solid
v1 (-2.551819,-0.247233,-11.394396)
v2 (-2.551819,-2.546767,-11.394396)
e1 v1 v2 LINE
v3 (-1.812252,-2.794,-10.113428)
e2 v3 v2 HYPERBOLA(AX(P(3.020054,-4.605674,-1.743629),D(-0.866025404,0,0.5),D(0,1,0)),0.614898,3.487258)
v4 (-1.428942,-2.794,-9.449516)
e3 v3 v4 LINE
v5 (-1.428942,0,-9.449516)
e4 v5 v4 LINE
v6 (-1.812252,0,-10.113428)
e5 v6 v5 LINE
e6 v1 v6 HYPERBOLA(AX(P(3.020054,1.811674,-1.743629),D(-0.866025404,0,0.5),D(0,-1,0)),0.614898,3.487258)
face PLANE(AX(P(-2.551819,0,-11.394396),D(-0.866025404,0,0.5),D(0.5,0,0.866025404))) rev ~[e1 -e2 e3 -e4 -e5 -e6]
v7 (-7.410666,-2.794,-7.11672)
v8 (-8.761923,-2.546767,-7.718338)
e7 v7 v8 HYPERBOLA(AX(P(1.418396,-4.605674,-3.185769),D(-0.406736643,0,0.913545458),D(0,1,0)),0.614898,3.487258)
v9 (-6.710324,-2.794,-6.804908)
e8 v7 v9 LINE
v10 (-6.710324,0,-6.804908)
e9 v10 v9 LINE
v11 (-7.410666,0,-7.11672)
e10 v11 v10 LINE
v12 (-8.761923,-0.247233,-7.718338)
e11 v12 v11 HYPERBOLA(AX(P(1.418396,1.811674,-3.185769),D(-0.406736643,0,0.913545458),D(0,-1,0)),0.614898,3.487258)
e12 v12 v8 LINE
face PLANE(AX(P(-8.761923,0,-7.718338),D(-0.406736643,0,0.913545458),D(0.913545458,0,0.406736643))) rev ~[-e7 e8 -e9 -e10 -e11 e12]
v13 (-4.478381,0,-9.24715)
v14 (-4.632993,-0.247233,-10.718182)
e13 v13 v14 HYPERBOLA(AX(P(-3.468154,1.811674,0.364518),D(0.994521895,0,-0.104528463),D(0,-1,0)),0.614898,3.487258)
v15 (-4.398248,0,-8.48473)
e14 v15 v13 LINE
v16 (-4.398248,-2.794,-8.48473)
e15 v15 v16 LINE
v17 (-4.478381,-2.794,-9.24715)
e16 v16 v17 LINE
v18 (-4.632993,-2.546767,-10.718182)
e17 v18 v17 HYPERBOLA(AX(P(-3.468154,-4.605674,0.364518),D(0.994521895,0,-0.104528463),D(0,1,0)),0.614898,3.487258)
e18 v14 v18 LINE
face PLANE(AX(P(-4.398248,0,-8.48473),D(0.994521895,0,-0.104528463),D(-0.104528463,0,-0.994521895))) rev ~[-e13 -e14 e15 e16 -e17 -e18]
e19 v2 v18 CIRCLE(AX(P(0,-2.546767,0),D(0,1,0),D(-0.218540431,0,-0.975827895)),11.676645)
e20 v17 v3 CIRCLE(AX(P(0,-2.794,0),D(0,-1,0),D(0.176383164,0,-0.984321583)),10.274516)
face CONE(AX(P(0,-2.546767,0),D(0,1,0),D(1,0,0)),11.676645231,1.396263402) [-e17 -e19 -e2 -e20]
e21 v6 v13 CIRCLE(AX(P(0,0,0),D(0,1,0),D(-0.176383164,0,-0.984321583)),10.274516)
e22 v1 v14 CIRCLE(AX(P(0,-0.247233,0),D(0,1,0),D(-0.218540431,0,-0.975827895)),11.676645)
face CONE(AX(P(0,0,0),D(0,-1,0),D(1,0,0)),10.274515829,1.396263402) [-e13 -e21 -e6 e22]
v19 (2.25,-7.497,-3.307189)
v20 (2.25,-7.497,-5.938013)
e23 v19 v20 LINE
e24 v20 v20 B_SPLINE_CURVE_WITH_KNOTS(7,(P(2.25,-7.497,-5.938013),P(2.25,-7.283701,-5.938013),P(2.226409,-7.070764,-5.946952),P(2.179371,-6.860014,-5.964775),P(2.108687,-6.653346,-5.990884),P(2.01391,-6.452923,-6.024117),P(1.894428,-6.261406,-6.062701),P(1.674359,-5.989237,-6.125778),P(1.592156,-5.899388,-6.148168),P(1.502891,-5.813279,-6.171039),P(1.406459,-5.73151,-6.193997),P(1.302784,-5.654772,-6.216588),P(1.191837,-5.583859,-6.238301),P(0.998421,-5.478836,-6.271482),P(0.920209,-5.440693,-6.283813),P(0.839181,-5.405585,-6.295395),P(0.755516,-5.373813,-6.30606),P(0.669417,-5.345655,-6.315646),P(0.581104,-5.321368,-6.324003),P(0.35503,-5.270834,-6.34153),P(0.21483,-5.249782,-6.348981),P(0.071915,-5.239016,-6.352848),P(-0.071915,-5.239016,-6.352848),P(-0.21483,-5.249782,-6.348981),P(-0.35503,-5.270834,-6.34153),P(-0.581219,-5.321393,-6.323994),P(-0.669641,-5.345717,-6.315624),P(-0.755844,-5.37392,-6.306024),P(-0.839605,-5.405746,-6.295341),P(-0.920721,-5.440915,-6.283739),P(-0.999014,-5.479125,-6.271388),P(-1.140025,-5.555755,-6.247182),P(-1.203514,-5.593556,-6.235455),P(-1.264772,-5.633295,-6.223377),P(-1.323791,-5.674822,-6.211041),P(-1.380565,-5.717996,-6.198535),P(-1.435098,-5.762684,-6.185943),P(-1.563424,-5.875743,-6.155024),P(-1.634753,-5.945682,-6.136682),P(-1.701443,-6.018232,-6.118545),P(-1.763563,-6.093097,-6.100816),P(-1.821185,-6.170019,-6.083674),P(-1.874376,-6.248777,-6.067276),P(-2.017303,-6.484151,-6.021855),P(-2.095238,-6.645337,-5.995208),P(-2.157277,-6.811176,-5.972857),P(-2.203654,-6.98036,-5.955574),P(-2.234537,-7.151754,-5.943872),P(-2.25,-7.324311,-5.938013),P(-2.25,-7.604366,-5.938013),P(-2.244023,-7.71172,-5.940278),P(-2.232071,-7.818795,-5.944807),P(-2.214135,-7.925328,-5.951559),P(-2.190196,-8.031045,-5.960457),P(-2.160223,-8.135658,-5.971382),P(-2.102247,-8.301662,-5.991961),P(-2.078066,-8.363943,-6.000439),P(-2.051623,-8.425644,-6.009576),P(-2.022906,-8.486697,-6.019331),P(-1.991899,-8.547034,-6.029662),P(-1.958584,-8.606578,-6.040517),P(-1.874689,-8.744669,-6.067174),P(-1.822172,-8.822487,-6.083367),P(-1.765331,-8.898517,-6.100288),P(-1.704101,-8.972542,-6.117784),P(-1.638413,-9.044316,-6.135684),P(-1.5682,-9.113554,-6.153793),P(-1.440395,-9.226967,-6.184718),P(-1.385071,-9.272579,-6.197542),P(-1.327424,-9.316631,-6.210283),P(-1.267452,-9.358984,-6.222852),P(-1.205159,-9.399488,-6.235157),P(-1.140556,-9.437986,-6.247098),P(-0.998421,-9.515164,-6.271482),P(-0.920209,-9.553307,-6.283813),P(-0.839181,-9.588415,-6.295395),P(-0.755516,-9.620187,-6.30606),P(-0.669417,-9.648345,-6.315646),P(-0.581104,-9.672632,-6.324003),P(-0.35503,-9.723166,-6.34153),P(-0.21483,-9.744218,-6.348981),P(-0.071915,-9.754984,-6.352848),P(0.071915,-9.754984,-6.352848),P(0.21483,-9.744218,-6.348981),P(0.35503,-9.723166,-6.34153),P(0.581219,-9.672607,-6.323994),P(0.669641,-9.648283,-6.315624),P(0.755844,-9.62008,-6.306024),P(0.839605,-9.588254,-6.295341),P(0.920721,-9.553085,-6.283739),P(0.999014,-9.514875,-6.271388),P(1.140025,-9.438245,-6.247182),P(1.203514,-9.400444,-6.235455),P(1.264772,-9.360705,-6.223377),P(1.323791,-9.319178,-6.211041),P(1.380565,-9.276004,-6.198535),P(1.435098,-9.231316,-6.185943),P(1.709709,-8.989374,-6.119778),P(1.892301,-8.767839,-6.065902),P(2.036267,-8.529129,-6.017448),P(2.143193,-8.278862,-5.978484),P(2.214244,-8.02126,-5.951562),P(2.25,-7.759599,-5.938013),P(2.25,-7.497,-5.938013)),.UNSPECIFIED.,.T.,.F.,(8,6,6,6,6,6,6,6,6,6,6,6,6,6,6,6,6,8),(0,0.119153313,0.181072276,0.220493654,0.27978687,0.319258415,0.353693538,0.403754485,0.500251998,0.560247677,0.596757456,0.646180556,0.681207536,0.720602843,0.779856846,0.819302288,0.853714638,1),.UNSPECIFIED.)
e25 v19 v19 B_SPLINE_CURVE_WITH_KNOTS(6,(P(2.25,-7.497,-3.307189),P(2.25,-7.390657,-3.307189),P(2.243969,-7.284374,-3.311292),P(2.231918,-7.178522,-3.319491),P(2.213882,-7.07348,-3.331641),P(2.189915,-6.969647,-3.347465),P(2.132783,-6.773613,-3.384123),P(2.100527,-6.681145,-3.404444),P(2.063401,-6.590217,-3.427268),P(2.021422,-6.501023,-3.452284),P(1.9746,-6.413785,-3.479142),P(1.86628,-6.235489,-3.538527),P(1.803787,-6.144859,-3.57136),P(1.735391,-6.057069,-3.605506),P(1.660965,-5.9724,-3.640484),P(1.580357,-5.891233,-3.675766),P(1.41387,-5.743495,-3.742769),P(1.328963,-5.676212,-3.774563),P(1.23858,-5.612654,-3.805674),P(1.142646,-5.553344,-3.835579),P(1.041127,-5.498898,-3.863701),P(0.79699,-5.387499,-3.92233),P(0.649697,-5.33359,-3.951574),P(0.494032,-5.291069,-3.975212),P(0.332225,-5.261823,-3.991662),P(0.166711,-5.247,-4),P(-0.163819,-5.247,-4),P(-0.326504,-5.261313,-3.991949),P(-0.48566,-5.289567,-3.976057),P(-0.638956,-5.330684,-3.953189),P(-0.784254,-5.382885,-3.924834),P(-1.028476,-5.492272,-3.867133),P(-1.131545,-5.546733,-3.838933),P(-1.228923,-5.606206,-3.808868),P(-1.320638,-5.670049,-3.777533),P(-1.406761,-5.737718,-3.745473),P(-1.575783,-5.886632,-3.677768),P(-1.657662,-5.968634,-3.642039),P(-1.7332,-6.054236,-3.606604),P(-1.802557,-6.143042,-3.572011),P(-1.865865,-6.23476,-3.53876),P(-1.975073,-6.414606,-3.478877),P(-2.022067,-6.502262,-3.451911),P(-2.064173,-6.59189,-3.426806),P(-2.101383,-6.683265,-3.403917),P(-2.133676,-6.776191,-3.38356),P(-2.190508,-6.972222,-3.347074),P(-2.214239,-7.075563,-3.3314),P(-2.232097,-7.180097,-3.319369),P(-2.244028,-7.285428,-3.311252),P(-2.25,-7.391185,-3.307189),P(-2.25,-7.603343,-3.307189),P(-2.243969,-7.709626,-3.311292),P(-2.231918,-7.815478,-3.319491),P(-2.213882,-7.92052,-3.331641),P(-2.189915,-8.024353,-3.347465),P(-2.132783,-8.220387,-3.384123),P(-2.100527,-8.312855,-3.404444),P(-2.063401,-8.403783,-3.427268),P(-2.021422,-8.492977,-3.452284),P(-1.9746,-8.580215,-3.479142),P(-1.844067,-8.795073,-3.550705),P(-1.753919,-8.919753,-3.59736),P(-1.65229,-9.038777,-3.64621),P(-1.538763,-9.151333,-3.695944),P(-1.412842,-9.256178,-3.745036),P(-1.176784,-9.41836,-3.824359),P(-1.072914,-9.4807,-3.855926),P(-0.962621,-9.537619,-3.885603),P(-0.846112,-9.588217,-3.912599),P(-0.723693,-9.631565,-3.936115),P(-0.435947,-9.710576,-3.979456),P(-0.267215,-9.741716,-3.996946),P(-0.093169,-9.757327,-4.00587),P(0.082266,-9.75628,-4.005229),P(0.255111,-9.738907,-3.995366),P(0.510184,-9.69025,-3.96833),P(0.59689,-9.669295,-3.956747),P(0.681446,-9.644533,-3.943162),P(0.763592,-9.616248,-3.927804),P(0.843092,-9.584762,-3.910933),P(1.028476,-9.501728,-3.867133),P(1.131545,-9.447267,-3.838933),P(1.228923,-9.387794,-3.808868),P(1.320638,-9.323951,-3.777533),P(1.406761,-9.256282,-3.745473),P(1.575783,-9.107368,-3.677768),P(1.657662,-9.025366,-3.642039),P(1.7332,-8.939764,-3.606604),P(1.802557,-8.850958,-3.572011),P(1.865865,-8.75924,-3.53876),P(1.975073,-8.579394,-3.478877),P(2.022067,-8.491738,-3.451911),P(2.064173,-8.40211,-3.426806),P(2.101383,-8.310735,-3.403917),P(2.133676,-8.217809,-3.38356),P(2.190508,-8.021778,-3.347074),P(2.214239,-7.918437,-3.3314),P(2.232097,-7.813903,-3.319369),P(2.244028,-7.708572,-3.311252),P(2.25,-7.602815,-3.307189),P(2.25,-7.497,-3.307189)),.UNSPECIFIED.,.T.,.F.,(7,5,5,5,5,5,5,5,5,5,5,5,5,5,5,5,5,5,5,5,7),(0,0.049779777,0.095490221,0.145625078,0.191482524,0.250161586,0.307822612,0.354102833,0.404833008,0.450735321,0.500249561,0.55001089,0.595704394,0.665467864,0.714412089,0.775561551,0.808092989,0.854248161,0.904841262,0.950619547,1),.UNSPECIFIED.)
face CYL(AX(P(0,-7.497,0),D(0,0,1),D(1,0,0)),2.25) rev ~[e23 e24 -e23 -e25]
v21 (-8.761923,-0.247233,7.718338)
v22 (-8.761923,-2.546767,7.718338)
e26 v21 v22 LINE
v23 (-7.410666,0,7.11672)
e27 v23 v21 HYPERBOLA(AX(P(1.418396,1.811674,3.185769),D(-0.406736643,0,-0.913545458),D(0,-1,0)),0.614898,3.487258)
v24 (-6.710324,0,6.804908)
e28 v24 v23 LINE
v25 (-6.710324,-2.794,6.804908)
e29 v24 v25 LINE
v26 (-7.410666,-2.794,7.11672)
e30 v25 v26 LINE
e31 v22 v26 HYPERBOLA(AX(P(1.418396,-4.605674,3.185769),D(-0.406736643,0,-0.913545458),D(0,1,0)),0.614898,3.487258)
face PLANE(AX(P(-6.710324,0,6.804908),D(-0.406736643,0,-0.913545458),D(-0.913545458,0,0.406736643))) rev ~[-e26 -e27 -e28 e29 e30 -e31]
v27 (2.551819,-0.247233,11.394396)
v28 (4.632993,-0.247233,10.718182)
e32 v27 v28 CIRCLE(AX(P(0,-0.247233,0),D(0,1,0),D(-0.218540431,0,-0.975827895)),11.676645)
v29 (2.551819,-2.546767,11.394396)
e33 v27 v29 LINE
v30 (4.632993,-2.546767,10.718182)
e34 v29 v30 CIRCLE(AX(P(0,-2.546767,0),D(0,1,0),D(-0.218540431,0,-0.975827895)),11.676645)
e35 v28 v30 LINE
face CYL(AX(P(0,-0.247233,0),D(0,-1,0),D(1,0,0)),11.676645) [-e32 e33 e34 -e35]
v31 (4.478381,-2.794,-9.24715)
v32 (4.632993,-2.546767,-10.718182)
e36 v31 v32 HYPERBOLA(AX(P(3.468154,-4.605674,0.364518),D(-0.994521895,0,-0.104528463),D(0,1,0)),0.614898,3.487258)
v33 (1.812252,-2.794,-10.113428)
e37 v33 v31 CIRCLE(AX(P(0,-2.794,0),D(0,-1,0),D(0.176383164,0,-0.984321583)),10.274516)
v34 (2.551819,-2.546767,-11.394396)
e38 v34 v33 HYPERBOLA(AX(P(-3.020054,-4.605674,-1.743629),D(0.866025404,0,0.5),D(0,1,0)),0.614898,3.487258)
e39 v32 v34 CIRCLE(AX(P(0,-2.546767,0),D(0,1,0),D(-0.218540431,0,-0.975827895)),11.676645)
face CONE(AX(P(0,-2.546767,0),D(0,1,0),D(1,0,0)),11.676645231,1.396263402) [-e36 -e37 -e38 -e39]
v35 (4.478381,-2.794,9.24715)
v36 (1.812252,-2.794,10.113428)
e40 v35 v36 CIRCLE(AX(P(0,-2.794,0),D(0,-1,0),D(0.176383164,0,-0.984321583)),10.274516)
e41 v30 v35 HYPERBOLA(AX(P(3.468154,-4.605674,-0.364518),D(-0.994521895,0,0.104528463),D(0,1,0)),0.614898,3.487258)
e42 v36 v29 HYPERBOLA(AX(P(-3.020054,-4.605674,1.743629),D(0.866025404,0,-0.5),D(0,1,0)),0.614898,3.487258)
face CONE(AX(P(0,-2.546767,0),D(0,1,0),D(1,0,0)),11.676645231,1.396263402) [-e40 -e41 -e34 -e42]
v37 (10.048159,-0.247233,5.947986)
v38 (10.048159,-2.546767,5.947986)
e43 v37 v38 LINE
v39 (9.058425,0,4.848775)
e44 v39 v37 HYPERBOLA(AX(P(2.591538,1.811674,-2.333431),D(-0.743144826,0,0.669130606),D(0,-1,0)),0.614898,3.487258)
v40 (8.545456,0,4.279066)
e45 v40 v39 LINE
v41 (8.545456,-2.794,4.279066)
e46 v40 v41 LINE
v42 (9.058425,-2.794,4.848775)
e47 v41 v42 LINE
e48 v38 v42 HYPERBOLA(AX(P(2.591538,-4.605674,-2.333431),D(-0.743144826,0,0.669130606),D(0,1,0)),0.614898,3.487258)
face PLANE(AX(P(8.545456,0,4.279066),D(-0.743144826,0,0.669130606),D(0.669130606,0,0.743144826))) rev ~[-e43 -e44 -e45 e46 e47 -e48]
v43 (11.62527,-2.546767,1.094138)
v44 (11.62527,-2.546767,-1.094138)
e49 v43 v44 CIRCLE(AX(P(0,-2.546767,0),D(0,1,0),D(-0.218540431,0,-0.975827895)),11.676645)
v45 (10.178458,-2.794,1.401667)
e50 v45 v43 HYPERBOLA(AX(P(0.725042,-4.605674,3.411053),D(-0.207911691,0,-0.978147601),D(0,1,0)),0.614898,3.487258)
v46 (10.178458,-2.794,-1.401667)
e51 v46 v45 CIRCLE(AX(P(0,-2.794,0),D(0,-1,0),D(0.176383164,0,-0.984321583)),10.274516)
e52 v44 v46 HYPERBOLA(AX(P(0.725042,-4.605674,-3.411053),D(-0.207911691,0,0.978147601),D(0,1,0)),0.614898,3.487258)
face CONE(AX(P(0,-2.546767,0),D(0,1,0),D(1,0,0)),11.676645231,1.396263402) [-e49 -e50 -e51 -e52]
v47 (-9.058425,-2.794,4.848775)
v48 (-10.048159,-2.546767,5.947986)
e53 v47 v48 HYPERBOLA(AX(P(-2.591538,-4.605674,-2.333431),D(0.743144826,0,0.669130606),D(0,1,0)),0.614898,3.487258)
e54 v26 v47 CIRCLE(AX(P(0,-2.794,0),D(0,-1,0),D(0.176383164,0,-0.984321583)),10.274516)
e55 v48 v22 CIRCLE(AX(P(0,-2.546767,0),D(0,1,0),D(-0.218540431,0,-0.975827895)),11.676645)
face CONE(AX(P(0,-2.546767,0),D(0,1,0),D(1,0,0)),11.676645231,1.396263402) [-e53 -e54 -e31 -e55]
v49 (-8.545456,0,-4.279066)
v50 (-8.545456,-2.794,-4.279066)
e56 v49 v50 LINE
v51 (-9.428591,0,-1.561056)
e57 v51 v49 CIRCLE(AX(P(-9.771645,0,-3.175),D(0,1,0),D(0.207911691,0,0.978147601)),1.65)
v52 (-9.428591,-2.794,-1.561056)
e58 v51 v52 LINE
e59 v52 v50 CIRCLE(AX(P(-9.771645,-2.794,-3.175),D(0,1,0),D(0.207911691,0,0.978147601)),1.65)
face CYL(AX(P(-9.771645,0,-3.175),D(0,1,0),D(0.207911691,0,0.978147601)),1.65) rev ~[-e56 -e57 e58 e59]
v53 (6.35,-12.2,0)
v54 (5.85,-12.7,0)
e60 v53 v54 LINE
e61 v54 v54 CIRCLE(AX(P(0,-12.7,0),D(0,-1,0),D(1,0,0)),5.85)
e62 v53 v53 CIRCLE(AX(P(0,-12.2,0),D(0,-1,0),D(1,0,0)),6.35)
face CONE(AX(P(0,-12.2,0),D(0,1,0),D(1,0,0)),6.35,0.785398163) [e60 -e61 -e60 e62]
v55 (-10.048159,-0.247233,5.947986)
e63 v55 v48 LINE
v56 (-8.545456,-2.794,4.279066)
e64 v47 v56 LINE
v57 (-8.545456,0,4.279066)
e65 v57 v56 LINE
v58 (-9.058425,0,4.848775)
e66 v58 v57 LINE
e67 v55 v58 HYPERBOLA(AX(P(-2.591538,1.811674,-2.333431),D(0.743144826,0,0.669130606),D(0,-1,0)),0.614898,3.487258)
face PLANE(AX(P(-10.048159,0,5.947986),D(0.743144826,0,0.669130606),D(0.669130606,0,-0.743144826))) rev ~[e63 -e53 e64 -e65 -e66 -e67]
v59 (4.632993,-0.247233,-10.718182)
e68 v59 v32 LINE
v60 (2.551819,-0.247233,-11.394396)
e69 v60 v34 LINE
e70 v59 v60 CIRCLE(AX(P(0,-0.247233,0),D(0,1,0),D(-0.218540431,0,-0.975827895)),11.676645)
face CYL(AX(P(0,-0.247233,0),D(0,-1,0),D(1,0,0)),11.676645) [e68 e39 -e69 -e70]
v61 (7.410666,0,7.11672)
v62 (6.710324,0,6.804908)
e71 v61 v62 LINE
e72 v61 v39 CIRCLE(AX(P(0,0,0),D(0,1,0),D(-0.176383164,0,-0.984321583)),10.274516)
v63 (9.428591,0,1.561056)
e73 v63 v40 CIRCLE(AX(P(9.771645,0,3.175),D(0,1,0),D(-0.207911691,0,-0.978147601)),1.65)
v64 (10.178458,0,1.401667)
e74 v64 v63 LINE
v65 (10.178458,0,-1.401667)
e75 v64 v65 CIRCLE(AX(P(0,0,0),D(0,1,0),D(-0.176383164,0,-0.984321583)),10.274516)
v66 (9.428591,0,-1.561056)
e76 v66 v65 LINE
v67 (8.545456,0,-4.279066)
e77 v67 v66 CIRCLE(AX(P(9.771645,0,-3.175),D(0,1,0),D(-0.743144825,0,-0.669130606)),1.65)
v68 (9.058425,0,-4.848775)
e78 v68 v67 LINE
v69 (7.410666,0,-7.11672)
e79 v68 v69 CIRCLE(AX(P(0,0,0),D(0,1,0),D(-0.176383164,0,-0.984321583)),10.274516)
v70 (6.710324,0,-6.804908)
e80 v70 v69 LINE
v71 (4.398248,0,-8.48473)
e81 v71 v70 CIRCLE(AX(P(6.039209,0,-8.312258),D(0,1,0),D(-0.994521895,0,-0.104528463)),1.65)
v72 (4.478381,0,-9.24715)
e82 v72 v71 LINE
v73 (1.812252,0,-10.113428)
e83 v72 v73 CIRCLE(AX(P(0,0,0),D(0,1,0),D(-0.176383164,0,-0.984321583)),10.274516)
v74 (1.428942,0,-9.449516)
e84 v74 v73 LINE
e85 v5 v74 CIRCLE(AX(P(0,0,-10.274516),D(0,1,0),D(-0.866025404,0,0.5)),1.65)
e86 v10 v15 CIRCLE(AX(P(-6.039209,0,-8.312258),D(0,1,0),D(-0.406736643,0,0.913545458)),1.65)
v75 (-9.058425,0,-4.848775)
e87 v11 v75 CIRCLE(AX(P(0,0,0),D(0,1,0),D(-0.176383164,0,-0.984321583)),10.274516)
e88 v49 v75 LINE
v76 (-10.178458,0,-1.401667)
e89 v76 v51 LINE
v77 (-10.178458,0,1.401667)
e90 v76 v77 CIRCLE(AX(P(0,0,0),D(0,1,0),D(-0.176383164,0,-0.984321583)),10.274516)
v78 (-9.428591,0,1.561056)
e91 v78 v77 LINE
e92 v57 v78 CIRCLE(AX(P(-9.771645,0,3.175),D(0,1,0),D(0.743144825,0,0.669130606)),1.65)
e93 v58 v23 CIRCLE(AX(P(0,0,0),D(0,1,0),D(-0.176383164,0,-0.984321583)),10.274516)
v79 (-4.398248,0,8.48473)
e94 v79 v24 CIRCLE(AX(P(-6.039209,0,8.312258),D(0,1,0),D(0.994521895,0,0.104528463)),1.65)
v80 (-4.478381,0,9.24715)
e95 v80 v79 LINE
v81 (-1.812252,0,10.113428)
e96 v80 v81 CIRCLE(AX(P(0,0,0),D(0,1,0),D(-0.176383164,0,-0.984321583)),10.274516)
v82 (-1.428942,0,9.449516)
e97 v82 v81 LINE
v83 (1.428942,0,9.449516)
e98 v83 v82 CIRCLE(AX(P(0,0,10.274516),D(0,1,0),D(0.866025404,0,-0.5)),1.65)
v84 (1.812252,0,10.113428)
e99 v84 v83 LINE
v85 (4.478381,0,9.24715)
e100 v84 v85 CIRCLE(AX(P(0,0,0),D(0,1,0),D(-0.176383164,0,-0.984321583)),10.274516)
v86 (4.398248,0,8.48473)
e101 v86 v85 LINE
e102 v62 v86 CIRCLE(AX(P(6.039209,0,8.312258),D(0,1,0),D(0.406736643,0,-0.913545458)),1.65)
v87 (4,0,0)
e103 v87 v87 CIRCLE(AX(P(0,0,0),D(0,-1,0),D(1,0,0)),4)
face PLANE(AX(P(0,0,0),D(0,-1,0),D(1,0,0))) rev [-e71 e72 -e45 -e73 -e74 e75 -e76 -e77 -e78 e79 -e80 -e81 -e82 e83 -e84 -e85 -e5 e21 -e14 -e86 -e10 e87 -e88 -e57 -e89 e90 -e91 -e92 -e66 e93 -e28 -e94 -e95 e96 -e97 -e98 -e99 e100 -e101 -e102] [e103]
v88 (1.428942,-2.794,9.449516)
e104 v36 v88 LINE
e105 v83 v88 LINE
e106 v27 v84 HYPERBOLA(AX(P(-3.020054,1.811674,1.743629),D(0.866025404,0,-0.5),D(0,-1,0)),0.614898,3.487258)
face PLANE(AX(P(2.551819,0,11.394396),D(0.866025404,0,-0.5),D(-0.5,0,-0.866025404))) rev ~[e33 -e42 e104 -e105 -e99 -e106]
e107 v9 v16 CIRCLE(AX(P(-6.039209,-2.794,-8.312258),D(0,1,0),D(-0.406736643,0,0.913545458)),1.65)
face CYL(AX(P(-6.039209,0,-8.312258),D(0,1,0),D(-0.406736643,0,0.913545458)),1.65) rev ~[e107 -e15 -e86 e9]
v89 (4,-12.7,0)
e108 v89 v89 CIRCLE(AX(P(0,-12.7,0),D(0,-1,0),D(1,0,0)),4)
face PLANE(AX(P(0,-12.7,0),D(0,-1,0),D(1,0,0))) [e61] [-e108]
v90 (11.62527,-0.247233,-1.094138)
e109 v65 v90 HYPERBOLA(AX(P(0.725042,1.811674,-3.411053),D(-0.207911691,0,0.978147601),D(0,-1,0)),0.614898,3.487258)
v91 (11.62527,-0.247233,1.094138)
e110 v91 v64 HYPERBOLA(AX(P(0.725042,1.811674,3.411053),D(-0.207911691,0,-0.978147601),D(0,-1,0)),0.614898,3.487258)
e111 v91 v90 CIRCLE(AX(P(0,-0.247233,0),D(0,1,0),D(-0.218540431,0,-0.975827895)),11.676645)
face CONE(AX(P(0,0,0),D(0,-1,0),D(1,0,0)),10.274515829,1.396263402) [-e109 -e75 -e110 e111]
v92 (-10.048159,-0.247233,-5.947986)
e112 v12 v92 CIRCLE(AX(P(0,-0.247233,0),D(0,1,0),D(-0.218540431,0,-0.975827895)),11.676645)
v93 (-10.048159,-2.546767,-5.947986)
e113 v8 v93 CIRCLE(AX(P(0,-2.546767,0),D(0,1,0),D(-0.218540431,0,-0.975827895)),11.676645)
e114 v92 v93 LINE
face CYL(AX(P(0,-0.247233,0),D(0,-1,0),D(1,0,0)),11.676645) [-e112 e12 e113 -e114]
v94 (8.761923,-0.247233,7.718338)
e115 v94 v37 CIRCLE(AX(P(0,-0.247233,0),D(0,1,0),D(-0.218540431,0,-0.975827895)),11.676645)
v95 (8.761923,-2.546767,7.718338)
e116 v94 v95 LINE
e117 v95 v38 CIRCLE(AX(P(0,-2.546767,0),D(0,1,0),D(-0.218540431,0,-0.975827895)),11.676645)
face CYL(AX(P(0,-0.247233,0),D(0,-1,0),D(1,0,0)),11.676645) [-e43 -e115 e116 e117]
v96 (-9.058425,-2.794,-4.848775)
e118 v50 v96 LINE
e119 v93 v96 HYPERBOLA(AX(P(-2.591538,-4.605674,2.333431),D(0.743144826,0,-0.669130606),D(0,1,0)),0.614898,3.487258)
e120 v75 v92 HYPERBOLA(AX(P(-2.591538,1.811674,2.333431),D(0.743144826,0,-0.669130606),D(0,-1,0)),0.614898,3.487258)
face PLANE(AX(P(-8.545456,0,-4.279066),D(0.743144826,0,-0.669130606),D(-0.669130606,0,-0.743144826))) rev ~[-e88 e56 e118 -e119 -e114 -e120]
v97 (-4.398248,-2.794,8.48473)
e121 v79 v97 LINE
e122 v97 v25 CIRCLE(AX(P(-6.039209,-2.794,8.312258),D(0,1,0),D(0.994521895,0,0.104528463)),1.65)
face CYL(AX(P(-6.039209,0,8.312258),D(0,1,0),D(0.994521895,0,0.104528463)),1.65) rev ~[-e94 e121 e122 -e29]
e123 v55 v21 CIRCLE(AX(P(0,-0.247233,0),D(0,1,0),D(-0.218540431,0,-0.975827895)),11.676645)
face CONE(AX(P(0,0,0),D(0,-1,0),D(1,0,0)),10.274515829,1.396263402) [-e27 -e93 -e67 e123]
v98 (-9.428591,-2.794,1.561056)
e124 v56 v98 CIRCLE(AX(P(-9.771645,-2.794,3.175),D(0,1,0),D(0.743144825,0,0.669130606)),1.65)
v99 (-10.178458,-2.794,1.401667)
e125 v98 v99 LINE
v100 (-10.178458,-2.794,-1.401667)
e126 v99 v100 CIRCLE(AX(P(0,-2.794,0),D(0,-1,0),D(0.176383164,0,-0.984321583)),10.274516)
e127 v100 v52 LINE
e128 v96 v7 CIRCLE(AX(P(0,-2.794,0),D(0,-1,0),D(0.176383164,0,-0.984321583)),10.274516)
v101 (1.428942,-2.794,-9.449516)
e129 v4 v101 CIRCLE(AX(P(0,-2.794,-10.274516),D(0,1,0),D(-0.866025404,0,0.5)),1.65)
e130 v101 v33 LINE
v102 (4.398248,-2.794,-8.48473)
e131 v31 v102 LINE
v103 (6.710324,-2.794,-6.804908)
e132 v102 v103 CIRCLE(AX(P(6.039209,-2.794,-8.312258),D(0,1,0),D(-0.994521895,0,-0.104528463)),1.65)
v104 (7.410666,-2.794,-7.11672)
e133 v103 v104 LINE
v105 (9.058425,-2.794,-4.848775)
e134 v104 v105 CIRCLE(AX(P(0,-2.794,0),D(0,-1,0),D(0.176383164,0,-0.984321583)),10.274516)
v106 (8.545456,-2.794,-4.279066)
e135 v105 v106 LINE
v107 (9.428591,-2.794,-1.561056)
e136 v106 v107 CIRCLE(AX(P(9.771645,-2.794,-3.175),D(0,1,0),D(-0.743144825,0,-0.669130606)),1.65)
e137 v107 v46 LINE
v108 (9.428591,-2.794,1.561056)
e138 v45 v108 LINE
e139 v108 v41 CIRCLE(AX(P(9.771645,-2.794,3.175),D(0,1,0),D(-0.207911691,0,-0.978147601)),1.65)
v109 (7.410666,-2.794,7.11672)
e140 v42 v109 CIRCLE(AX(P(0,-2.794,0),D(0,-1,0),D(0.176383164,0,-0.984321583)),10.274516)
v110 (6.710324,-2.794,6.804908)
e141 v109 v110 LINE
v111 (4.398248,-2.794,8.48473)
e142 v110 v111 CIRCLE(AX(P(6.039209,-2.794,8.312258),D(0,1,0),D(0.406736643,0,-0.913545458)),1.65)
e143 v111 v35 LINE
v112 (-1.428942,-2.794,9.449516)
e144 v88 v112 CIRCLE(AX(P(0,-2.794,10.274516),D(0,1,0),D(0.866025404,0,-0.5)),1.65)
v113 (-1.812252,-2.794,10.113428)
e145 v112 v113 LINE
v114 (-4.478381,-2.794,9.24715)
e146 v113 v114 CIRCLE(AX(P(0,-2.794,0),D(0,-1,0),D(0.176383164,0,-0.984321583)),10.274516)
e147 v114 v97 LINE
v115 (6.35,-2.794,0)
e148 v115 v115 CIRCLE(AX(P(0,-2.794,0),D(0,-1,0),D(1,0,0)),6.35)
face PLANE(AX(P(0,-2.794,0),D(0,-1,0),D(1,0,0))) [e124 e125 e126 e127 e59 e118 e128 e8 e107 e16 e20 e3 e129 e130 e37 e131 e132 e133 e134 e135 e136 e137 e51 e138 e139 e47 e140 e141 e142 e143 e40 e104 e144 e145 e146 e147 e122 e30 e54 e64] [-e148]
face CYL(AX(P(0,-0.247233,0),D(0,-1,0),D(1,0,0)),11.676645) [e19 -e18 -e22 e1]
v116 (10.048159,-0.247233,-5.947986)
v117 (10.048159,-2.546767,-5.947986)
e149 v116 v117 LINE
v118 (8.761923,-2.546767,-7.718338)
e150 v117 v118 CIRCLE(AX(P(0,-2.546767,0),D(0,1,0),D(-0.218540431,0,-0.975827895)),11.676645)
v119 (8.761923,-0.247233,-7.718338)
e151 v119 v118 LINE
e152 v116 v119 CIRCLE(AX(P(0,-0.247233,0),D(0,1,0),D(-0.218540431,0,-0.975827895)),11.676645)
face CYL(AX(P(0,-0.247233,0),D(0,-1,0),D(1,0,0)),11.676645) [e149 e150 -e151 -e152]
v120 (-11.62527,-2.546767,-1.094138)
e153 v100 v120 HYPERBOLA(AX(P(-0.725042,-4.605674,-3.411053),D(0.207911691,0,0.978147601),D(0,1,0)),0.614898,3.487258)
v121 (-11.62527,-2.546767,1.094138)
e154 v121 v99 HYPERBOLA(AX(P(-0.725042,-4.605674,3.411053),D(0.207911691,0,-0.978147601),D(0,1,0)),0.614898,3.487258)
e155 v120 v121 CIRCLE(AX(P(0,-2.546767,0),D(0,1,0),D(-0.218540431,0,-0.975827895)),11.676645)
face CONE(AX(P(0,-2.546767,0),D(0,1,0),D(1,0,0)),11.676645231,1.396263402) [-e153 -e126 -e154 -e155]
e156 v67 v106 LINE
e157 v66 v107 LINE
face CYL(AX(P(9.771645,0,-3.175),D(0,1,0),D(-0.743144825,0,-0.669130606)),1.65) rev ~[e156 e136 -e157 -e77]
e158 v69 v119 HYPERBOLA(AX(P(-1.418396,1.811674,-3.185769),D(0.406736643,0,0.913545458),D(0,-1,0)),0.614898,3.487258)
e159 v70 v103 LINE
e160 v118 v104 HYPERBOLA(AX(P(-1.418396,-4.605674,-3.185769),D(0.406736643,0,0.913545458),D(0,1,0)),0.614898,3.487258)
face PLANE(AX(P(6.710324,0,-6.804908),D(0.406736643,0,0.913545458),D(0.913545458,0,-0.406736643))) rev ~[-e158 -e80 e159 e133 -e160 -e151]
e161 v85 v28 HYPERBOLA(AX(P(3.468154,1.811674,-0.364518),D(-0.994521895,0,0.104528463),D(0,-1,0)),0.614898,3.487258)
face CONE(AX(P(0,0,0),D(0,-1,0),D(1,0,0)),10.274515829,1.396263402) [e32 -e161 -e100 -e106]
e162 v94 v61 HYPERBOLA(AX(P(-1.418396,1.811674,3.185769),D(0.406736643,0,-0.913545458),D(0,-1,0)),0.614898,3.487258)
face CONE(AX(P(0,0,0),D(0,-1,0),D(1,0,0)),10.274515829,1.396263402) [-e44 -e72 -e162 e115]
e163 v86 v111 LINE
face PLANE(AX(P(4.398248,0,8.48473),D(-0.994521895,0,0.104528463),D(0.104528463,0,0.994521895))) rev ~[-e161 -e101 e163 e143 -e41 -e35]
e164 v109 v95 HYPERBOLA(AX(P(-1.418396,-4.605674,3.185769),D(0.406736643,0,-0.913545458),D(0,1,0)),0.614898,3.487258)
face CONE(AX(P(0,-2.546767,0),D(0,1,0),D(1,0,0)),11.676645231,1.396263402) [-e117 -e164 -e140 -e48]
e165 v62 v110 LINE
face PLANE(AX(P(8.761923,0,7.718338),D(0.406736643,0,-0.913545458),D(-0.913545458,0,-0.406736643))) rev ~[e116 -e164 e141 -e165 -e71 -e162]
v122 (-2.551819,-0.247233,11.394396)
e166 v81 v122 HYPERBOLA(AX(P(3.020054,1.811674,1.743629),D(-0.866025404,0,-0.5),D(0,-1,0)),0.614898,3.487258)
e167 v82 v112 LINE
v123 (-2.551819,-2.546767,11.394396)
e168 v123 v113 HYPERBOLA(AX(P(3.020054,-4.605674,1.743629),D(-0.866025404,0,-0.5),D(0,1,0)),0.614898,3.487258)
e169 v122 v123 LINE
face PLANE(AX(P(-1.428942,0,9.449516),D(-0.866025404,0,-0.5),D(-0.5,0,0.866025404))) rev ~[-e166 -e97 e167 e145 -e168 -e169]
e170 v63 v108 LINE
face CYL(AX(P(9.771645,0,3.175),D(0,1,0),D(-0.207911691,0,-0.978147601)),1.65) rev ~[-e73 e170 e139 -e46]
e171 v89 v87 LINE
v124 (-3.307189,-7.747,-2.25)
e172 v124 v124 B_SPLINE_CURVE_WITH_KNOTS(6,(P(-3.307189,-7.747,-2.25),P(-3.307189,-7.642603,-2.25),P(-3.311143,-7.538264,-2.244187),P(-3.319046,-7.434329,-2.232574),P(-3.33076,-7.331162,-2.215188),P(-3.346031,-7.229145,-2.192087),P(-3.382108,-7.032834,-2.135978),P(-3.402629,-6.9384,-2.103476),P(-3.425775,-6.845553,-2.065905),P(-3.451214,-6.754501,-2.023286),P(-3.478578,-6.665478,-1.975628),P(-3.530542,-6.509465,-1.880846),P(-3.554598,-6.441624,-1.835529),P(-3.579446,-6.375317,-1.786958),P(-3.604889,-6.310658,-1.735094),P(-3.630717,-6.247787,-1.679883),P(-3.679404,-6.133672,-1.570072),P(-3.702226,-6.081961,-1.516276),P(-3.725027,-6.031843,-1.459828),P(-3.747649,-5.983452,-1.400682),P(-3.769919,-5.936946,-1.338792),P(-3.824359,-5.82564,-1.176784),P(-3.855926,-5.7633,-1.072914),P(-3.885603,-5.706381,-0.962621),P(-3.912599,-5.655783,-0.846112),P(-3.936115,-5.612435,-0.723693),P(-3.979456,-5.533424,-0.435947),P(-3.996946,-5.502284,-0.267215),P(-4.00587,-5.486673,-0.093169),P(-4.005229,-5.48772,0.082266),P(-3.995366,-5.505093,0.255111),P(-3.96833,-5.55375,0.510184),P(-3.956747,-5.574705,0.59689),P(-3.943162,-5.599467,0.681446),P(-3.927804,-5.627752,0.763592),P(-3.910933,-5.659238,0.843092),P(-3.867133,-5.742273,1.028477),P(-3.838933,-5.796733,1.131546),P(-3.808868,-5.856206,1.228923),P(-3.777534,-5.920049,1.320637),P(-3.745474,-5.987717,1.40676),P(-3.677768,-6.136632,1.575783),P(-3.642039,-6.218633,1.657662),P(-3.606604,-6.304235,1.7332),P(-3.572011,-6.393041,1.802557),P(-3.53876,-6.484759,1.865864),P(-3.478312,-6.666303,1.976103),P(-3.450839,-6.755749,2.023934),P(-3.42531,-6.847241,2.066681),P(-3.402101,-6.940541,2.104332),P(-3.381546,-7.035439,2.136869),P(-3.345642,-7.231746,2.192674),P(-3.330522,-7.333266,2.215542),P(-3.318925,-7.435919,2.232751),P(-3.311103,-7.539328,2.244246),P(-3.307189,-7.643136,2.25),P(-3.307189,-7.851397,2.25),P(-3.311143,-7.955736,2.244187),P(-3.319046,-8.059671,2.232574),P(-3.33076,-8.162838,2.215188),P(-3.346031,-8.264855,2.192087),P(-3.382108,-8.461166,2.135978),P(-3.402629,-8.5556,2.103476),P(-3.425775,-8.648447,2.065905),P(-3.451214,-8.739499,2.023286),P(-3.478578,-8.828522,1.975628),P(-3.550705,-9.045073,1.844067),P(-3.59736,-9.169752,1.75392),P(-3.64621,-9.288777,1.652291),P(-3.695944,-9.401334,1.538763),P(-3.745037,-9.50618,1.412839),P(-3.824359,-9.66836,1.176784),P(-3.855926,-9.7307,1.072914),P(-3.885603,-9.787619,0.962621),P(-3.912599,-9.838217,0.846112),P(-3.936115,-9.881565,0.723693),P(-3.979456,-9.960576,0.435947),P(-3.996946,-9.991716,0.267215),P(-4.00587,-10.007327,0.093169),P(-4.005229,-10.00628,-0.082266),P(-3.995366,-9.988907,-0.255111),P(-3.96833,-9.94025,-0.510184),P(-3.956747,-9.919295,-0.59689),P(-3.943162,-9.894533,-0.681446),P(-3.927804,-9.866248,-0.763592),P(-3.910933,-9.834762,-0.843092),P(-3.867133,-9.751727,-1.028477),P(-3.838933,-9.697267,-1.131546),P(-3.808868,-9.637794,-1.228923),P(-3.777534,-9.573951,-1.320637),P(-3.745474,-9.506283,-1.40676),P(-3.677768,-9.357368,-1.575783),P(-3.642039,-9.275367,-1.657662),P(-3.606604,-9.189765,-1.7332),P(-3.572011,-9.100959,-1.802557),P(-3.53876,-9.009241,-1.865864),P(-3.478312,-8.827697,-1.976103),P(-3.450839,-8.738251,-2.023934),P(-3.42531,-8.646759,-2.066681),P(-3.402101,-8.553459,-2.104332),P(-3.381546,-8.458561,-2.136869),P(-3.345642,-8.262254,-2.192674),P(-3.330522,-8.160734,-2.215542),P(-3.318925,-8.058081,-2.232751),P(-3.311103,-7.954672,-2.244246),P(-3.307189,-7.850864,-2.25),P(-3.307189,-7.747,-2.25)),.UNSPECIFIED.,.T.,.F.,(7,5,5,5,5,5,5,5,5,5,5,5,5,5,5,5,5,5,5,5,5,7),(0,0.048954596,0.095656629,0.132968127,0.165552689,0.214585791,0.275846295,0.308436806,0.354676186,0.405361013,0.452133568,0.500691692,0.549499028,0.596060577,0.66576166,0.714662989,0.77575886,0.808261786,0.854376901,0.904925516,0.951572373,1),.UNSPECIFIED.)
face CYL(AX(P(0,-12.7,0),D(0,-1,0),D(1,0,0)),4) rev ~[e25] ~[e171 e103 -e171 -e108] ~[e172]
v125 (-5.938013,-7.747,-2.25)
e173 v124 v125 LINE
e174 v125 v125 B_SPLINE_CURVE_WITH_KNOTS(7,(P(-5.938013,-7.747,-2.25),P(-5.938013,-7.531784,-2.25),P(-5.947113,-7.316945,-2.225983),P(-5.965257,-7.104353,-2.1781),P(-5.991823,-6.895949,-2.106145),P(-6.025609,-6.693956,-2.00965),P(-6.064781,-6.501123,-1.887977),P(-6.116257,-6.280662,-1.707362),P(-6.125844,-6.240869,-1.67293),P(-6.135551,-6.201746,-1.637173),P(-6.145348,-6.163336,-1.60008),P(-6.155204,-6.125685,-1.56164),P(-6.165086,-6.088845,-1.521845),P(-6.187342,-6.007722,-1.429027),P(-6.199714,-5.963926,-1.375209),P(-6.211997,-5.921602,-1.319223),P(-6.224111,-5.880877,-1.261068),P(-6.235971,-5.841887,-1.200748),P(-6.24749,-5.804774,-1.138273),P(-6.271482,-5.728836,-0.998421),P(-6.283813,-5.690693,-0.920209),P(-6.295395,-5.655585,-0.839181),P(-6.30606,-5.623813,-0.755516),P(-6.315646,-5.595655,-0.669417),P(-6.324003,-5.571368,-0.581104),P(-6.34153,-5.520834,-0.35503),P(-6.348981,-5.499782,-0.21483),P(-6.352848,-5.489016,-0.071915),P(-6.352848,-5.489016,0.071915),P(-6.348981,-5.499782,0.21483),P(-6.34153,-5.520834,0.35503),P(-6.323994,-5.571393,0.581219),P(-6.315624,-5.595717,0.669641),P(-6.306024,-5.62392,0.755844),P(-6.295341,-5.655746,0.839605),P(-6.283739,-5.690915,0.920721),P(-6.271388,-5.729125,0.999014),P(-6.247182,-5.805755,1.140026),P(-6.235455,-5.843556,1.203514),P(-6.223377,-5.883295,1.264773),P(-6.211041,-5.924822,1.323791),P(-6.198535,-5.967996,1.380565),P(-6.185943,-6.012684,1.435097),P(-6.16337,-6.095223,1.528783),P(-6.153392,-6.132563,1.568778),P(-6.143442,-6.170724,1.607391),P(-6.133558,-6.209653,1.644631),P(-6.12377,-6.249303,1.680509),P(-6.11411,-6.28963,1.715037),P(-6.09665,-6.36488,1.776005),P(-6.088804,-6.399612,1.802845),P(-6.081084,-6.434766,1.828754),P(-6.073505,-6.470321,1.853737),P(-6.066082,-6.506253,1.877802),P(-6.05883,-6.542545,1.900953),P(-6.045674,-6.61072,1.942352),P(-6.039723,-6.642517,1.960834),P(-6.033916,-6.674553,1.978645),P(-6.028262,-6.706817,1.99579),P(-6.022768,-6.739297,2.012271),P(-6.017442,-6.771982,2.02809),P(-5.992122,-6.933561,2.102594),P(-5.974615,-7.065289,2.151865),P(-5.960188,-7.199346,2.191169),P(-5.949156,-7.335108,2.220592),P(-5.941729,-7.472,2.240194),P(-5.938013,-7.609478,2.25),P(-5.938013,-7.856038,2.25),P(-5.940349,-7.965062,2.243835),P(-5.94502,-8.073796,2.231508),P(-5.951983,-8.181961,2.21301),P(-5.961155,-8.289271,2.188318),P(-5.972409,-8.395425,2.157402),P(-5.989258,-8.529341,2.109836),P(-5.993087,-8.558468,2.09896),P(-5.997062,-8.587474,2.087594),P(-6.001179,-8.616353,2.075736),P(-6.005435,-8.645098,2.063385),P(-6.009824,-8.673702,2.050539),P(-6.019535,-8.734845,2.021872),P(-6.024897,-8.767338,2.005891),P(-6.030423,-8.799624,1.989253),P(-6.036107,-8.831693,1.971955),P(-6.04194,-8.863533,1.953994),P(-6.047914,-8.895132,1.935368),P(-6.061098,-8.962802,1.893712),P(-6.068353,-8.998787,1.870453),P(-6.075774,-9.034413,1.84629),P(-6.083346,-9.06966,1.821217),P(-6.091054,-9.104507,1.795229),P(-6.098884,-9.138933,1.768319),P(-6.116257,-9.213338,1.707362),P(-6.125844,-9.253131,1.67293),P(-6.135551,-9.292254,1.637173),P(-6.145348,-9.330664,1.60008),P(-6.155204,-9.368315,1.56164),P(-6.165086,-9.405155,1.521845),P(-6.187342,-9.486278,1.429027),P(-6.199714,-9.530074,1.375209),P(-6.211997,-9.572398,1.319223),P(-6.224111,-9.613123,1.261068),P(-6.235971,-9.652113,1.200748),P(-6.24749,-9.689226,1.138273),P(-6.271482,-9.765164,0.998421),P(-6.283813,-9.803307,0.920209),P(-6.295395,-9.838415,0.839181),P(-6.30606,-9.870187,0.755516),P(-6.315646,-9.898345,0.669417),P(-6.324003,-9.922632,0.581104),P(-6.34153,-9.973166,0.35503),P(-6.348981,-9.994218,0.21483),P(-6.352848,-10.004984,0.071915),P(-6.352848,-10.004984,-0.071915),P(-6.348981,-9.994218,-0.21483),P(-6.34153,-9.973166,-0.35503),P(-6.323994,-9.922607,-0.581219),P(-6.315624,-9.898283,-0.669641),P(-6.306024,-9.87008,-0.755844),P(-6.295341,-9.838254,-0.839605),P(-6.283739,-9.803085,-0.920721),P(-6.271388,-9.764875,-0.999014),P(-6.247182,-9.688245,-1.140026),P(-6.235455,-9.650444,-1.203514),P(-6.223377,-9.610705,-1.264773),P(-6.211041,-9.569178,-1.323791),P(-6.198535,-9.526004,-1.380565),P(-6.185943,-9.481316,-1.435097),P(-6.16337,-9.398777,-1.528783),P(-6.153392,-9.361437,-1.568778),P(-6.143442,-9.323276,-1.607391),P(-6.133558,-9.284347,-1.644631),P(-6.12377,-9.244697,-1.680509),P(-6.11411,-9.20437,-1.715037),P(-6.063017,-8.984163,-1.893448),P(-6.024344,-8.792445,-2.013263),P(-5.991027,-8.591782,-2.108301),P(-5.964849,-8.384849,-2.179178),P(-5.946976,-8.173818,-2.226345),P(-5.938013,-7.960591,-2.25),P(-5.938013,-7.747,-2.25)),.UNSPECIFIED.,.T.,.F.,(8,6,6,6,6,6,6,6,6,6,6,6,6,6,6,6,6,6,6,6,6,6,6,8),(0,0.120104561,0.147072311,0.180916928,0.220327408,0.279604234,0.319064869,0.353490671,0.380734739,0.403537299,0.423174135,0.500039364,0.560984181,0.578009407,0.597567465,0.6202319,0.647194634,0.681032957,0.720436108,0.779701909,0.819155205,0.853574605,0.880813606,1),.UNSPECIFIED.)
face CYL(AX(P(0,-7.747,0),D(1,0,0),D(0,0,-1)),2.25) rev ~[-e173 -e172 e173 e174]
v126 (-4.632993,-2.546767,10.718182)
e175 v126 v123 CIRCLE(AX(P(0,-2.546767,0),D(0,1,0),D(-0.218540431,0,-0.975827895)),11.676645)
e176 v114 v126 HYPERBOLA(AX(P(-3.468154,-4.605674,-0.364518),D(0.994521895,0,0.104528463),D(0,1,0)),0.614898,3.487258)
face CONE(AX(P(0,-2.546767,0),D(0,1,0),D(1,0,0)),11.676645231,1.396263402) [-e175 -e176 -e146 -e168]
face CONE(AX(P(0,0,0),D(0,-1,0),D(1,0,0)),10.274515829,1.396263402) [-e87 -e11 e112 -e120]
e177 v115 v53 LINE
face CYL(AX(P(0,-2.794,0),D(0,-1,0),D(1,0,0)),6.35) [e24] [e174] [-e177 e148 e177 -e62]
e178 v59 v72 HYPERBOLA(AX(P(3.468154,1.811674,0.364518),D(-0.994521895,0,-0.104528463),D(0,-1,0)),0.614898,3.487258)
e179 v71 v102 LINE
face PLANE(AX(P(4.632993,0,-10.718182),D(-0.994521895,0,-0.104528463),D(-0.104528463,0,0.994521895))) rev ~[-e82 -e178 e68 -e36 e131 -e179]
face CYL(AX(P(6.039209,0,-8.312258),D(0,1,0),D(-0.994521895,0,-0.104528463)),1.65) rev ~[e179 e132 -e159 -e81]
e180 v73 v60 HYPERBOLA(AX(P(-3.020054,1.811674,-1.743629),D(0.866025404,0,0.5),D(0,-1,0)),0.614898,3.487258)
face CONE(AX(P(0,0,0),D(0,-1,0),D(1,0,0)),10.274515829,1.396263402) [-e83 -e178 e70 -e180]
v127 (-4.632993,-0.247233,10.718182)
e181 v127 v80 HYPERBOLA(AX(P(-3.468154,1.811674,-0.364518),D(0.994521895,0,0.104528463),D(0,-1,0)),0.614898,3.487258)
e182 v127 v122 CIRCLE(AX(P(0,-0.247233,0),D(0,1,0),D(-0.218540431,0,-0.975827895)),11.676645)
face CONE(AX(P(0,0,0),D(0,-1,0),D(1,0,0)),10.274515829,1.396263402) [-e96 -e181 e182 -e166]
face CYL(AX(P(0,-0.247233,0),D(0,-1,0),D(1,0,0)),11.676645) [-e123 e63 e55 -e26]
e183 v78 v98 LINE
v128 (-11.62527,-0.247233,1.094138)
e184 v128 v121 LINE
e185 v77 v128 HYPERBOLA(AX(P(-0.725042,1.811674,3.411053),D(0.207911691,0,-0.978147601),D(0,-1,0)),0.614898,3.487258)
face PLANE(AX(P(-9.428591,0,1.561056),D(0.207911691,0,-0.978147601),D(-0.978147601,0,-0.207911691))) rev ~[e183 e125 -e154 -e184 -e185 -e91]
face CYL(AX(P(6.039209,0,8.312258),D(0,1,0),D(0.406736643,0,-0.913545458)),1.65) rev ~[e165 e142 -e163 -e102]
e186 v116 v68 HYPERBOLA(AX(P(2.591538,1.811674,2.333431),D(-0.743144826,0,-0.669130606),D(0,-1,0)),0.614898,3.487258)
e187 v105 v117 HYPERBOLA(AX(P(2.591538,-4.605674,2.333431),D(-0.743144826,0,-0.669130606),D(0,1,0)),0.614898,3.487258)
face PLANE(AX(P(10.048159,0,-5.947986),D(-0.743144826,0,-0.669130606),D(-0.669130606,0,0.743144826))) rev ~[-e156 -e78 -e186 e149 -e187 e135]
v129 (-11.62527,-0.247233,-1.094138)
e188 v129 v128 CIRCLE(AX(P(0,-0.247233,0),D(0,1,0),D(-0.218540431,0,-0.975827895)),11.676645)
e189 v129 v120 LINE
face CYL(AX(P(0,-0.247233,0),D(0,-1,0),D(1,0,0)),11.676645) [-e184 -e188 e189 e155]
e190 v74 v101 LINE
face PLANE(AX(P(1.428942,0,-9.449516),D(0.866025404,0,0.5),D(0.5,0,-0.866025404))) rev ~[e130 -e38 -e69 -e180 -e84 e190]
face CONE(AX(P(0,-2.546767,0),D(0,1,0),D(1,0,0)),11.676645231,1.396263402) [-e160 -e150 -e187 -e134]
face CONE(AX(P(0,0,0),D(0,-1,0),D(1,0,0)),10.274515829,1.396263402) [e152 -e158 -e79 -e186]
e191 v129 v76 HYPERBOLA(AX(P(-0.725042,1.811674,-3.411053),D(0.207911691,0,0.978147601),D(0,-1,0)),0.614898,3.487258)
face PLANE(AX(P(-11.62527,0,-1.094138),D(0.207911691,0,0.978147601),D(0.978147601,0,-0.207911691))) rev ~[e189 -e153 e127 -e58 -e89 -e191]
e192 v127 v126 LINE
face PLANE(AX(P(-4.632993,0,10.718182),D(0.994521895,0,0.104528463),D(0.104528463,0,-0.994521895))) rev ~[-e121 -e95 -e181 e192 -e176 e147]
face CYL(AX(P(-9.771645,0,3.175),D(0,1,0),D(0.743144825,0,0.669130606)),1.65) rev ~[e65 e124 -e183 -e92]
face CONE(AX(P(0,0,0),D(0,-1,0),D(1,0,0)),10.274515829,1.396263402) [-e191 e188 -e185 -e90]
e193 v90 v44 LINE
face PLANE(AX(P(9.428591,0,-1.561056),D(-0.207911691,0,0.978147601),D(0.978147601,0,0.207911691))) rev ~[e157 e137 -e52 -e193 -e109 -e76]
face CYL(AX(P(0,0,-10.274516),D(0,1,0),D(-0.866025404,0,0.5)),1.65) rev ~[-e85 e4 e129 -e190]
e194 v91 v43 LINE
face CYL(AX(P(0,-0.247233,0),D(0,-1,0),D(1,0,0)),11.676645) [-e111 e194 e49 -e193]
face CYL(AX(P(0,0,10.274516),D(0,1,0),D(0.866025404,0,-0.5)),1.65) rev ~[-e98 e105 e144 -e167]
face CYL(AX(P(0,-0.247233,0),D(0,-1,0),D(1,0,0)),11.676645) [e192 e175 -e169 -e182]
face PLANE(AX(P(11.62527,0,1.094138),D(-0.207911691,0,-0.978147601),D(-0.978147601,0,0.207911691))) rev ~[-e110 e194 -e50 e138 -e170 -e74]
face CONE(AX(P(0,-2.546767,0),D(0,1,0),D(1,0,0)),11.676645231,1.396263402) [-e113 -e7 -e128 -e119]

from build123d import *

# Parameters (mm, degrees)
CUT_EXTRUDE1_DEPTH = 2.794
CIRPATTERN1_COUNT  = 10
SKETCH3_R          = 4
CUT_EXTRUDE2_DEPTH = 13.7
SKETCH4_R          = 2.25
CUT_EXTRUDE3_DEPTH = 10
SKETCH5_R          = 2.25
CUT_EXTRUDE4_DEPTH = 10


with BuildPart() as part:
    # Sketch1 → Revolve2 (revolve)
    with BuildSketch(Plane.XY):
        Polygon((0, 0), (10.274515829, 0), (11.676645231, -0.247233244), (11.676645231, -2.546766756), (10.274515829, -2.794), (6.35, -2.794), (6.35, -12.2), (5.85, -12.7), (0, -12.7), align=None)
    revolve(axis=Axis((0, 0, 0), (0, -1, 0)))

    # Sketch2 → Cut-Extrude1 (cut)
    with BuildSketch(Plane(origin=(0, 0, 0), x_dir=(1, 0, 0), z_dir=(0, 1, 0))):
        with BuildLine():
            Line((1.428941916, 9.449515829), (2.551819083, 11.394396132))
            ThreePointArc((2.551819083, 11.394396132), (0, 11.676645231), (-2.551819083, 11.394396132))
            Line((-2.551819083, 11.394396132), (-1.428941916, 9.449515829))
            ThreePointArc((-1.428941916, 9.449515829), (0, 8.624515829), (1.428941916, 9.449515829))
        make_face()
    cut_extrude1 = extrude(amount=-CUT_EXTRUDE1_DEPTH, mode=Mode.SUBTRACT)

    # CirPattern1: Cut-Extrude1 ×10 about axis
    cirpattern1_axis = Axis((0, 0, 0), (0, 1, 0))
    for i in range(1, CIRPATTERN1_COUNT):
        add(cut_extrude1.rotate(cirpattern1_axis, i * 360 / CIRPATTERN1_COUNT), mode=Mode.SUBTRACT)

    # Sketch3 → Cut-Extrude2 (cut, through all)
    with BuildSketch(Plane.XZ.offset(12.7)):
        Circle(SKETCH3_R)
    extrude(amount=-CUT_EXTRUDE2_DEPTH, mode=Mode.SUBTRACT)

    # Sketch4 → Cut-Extrude3 (cut)
    with BuildSketch(Plane(origin=(0, 0, 0), x_dir=(0, 0, -1), z_dir=(1, 0, 0))):
        with Locations((0, -7.747)):
            Circle(SKETCH4_R)
    extrude(amount=-CUT_EXTRUDE3_DEPTH, mode=Mode.SUBTRACT)

    # Sketch5 → Cut-Extrude4 (cut)
    with BuildSketch(Plane.XY):
        with Locations((0, -7.497)):
            Circle(SKETCH5_R)
    extrude(amount=-CUT_EXTRUDE4_DEPTH, mode=Mode.SUBTRACT)


solid = part.part
